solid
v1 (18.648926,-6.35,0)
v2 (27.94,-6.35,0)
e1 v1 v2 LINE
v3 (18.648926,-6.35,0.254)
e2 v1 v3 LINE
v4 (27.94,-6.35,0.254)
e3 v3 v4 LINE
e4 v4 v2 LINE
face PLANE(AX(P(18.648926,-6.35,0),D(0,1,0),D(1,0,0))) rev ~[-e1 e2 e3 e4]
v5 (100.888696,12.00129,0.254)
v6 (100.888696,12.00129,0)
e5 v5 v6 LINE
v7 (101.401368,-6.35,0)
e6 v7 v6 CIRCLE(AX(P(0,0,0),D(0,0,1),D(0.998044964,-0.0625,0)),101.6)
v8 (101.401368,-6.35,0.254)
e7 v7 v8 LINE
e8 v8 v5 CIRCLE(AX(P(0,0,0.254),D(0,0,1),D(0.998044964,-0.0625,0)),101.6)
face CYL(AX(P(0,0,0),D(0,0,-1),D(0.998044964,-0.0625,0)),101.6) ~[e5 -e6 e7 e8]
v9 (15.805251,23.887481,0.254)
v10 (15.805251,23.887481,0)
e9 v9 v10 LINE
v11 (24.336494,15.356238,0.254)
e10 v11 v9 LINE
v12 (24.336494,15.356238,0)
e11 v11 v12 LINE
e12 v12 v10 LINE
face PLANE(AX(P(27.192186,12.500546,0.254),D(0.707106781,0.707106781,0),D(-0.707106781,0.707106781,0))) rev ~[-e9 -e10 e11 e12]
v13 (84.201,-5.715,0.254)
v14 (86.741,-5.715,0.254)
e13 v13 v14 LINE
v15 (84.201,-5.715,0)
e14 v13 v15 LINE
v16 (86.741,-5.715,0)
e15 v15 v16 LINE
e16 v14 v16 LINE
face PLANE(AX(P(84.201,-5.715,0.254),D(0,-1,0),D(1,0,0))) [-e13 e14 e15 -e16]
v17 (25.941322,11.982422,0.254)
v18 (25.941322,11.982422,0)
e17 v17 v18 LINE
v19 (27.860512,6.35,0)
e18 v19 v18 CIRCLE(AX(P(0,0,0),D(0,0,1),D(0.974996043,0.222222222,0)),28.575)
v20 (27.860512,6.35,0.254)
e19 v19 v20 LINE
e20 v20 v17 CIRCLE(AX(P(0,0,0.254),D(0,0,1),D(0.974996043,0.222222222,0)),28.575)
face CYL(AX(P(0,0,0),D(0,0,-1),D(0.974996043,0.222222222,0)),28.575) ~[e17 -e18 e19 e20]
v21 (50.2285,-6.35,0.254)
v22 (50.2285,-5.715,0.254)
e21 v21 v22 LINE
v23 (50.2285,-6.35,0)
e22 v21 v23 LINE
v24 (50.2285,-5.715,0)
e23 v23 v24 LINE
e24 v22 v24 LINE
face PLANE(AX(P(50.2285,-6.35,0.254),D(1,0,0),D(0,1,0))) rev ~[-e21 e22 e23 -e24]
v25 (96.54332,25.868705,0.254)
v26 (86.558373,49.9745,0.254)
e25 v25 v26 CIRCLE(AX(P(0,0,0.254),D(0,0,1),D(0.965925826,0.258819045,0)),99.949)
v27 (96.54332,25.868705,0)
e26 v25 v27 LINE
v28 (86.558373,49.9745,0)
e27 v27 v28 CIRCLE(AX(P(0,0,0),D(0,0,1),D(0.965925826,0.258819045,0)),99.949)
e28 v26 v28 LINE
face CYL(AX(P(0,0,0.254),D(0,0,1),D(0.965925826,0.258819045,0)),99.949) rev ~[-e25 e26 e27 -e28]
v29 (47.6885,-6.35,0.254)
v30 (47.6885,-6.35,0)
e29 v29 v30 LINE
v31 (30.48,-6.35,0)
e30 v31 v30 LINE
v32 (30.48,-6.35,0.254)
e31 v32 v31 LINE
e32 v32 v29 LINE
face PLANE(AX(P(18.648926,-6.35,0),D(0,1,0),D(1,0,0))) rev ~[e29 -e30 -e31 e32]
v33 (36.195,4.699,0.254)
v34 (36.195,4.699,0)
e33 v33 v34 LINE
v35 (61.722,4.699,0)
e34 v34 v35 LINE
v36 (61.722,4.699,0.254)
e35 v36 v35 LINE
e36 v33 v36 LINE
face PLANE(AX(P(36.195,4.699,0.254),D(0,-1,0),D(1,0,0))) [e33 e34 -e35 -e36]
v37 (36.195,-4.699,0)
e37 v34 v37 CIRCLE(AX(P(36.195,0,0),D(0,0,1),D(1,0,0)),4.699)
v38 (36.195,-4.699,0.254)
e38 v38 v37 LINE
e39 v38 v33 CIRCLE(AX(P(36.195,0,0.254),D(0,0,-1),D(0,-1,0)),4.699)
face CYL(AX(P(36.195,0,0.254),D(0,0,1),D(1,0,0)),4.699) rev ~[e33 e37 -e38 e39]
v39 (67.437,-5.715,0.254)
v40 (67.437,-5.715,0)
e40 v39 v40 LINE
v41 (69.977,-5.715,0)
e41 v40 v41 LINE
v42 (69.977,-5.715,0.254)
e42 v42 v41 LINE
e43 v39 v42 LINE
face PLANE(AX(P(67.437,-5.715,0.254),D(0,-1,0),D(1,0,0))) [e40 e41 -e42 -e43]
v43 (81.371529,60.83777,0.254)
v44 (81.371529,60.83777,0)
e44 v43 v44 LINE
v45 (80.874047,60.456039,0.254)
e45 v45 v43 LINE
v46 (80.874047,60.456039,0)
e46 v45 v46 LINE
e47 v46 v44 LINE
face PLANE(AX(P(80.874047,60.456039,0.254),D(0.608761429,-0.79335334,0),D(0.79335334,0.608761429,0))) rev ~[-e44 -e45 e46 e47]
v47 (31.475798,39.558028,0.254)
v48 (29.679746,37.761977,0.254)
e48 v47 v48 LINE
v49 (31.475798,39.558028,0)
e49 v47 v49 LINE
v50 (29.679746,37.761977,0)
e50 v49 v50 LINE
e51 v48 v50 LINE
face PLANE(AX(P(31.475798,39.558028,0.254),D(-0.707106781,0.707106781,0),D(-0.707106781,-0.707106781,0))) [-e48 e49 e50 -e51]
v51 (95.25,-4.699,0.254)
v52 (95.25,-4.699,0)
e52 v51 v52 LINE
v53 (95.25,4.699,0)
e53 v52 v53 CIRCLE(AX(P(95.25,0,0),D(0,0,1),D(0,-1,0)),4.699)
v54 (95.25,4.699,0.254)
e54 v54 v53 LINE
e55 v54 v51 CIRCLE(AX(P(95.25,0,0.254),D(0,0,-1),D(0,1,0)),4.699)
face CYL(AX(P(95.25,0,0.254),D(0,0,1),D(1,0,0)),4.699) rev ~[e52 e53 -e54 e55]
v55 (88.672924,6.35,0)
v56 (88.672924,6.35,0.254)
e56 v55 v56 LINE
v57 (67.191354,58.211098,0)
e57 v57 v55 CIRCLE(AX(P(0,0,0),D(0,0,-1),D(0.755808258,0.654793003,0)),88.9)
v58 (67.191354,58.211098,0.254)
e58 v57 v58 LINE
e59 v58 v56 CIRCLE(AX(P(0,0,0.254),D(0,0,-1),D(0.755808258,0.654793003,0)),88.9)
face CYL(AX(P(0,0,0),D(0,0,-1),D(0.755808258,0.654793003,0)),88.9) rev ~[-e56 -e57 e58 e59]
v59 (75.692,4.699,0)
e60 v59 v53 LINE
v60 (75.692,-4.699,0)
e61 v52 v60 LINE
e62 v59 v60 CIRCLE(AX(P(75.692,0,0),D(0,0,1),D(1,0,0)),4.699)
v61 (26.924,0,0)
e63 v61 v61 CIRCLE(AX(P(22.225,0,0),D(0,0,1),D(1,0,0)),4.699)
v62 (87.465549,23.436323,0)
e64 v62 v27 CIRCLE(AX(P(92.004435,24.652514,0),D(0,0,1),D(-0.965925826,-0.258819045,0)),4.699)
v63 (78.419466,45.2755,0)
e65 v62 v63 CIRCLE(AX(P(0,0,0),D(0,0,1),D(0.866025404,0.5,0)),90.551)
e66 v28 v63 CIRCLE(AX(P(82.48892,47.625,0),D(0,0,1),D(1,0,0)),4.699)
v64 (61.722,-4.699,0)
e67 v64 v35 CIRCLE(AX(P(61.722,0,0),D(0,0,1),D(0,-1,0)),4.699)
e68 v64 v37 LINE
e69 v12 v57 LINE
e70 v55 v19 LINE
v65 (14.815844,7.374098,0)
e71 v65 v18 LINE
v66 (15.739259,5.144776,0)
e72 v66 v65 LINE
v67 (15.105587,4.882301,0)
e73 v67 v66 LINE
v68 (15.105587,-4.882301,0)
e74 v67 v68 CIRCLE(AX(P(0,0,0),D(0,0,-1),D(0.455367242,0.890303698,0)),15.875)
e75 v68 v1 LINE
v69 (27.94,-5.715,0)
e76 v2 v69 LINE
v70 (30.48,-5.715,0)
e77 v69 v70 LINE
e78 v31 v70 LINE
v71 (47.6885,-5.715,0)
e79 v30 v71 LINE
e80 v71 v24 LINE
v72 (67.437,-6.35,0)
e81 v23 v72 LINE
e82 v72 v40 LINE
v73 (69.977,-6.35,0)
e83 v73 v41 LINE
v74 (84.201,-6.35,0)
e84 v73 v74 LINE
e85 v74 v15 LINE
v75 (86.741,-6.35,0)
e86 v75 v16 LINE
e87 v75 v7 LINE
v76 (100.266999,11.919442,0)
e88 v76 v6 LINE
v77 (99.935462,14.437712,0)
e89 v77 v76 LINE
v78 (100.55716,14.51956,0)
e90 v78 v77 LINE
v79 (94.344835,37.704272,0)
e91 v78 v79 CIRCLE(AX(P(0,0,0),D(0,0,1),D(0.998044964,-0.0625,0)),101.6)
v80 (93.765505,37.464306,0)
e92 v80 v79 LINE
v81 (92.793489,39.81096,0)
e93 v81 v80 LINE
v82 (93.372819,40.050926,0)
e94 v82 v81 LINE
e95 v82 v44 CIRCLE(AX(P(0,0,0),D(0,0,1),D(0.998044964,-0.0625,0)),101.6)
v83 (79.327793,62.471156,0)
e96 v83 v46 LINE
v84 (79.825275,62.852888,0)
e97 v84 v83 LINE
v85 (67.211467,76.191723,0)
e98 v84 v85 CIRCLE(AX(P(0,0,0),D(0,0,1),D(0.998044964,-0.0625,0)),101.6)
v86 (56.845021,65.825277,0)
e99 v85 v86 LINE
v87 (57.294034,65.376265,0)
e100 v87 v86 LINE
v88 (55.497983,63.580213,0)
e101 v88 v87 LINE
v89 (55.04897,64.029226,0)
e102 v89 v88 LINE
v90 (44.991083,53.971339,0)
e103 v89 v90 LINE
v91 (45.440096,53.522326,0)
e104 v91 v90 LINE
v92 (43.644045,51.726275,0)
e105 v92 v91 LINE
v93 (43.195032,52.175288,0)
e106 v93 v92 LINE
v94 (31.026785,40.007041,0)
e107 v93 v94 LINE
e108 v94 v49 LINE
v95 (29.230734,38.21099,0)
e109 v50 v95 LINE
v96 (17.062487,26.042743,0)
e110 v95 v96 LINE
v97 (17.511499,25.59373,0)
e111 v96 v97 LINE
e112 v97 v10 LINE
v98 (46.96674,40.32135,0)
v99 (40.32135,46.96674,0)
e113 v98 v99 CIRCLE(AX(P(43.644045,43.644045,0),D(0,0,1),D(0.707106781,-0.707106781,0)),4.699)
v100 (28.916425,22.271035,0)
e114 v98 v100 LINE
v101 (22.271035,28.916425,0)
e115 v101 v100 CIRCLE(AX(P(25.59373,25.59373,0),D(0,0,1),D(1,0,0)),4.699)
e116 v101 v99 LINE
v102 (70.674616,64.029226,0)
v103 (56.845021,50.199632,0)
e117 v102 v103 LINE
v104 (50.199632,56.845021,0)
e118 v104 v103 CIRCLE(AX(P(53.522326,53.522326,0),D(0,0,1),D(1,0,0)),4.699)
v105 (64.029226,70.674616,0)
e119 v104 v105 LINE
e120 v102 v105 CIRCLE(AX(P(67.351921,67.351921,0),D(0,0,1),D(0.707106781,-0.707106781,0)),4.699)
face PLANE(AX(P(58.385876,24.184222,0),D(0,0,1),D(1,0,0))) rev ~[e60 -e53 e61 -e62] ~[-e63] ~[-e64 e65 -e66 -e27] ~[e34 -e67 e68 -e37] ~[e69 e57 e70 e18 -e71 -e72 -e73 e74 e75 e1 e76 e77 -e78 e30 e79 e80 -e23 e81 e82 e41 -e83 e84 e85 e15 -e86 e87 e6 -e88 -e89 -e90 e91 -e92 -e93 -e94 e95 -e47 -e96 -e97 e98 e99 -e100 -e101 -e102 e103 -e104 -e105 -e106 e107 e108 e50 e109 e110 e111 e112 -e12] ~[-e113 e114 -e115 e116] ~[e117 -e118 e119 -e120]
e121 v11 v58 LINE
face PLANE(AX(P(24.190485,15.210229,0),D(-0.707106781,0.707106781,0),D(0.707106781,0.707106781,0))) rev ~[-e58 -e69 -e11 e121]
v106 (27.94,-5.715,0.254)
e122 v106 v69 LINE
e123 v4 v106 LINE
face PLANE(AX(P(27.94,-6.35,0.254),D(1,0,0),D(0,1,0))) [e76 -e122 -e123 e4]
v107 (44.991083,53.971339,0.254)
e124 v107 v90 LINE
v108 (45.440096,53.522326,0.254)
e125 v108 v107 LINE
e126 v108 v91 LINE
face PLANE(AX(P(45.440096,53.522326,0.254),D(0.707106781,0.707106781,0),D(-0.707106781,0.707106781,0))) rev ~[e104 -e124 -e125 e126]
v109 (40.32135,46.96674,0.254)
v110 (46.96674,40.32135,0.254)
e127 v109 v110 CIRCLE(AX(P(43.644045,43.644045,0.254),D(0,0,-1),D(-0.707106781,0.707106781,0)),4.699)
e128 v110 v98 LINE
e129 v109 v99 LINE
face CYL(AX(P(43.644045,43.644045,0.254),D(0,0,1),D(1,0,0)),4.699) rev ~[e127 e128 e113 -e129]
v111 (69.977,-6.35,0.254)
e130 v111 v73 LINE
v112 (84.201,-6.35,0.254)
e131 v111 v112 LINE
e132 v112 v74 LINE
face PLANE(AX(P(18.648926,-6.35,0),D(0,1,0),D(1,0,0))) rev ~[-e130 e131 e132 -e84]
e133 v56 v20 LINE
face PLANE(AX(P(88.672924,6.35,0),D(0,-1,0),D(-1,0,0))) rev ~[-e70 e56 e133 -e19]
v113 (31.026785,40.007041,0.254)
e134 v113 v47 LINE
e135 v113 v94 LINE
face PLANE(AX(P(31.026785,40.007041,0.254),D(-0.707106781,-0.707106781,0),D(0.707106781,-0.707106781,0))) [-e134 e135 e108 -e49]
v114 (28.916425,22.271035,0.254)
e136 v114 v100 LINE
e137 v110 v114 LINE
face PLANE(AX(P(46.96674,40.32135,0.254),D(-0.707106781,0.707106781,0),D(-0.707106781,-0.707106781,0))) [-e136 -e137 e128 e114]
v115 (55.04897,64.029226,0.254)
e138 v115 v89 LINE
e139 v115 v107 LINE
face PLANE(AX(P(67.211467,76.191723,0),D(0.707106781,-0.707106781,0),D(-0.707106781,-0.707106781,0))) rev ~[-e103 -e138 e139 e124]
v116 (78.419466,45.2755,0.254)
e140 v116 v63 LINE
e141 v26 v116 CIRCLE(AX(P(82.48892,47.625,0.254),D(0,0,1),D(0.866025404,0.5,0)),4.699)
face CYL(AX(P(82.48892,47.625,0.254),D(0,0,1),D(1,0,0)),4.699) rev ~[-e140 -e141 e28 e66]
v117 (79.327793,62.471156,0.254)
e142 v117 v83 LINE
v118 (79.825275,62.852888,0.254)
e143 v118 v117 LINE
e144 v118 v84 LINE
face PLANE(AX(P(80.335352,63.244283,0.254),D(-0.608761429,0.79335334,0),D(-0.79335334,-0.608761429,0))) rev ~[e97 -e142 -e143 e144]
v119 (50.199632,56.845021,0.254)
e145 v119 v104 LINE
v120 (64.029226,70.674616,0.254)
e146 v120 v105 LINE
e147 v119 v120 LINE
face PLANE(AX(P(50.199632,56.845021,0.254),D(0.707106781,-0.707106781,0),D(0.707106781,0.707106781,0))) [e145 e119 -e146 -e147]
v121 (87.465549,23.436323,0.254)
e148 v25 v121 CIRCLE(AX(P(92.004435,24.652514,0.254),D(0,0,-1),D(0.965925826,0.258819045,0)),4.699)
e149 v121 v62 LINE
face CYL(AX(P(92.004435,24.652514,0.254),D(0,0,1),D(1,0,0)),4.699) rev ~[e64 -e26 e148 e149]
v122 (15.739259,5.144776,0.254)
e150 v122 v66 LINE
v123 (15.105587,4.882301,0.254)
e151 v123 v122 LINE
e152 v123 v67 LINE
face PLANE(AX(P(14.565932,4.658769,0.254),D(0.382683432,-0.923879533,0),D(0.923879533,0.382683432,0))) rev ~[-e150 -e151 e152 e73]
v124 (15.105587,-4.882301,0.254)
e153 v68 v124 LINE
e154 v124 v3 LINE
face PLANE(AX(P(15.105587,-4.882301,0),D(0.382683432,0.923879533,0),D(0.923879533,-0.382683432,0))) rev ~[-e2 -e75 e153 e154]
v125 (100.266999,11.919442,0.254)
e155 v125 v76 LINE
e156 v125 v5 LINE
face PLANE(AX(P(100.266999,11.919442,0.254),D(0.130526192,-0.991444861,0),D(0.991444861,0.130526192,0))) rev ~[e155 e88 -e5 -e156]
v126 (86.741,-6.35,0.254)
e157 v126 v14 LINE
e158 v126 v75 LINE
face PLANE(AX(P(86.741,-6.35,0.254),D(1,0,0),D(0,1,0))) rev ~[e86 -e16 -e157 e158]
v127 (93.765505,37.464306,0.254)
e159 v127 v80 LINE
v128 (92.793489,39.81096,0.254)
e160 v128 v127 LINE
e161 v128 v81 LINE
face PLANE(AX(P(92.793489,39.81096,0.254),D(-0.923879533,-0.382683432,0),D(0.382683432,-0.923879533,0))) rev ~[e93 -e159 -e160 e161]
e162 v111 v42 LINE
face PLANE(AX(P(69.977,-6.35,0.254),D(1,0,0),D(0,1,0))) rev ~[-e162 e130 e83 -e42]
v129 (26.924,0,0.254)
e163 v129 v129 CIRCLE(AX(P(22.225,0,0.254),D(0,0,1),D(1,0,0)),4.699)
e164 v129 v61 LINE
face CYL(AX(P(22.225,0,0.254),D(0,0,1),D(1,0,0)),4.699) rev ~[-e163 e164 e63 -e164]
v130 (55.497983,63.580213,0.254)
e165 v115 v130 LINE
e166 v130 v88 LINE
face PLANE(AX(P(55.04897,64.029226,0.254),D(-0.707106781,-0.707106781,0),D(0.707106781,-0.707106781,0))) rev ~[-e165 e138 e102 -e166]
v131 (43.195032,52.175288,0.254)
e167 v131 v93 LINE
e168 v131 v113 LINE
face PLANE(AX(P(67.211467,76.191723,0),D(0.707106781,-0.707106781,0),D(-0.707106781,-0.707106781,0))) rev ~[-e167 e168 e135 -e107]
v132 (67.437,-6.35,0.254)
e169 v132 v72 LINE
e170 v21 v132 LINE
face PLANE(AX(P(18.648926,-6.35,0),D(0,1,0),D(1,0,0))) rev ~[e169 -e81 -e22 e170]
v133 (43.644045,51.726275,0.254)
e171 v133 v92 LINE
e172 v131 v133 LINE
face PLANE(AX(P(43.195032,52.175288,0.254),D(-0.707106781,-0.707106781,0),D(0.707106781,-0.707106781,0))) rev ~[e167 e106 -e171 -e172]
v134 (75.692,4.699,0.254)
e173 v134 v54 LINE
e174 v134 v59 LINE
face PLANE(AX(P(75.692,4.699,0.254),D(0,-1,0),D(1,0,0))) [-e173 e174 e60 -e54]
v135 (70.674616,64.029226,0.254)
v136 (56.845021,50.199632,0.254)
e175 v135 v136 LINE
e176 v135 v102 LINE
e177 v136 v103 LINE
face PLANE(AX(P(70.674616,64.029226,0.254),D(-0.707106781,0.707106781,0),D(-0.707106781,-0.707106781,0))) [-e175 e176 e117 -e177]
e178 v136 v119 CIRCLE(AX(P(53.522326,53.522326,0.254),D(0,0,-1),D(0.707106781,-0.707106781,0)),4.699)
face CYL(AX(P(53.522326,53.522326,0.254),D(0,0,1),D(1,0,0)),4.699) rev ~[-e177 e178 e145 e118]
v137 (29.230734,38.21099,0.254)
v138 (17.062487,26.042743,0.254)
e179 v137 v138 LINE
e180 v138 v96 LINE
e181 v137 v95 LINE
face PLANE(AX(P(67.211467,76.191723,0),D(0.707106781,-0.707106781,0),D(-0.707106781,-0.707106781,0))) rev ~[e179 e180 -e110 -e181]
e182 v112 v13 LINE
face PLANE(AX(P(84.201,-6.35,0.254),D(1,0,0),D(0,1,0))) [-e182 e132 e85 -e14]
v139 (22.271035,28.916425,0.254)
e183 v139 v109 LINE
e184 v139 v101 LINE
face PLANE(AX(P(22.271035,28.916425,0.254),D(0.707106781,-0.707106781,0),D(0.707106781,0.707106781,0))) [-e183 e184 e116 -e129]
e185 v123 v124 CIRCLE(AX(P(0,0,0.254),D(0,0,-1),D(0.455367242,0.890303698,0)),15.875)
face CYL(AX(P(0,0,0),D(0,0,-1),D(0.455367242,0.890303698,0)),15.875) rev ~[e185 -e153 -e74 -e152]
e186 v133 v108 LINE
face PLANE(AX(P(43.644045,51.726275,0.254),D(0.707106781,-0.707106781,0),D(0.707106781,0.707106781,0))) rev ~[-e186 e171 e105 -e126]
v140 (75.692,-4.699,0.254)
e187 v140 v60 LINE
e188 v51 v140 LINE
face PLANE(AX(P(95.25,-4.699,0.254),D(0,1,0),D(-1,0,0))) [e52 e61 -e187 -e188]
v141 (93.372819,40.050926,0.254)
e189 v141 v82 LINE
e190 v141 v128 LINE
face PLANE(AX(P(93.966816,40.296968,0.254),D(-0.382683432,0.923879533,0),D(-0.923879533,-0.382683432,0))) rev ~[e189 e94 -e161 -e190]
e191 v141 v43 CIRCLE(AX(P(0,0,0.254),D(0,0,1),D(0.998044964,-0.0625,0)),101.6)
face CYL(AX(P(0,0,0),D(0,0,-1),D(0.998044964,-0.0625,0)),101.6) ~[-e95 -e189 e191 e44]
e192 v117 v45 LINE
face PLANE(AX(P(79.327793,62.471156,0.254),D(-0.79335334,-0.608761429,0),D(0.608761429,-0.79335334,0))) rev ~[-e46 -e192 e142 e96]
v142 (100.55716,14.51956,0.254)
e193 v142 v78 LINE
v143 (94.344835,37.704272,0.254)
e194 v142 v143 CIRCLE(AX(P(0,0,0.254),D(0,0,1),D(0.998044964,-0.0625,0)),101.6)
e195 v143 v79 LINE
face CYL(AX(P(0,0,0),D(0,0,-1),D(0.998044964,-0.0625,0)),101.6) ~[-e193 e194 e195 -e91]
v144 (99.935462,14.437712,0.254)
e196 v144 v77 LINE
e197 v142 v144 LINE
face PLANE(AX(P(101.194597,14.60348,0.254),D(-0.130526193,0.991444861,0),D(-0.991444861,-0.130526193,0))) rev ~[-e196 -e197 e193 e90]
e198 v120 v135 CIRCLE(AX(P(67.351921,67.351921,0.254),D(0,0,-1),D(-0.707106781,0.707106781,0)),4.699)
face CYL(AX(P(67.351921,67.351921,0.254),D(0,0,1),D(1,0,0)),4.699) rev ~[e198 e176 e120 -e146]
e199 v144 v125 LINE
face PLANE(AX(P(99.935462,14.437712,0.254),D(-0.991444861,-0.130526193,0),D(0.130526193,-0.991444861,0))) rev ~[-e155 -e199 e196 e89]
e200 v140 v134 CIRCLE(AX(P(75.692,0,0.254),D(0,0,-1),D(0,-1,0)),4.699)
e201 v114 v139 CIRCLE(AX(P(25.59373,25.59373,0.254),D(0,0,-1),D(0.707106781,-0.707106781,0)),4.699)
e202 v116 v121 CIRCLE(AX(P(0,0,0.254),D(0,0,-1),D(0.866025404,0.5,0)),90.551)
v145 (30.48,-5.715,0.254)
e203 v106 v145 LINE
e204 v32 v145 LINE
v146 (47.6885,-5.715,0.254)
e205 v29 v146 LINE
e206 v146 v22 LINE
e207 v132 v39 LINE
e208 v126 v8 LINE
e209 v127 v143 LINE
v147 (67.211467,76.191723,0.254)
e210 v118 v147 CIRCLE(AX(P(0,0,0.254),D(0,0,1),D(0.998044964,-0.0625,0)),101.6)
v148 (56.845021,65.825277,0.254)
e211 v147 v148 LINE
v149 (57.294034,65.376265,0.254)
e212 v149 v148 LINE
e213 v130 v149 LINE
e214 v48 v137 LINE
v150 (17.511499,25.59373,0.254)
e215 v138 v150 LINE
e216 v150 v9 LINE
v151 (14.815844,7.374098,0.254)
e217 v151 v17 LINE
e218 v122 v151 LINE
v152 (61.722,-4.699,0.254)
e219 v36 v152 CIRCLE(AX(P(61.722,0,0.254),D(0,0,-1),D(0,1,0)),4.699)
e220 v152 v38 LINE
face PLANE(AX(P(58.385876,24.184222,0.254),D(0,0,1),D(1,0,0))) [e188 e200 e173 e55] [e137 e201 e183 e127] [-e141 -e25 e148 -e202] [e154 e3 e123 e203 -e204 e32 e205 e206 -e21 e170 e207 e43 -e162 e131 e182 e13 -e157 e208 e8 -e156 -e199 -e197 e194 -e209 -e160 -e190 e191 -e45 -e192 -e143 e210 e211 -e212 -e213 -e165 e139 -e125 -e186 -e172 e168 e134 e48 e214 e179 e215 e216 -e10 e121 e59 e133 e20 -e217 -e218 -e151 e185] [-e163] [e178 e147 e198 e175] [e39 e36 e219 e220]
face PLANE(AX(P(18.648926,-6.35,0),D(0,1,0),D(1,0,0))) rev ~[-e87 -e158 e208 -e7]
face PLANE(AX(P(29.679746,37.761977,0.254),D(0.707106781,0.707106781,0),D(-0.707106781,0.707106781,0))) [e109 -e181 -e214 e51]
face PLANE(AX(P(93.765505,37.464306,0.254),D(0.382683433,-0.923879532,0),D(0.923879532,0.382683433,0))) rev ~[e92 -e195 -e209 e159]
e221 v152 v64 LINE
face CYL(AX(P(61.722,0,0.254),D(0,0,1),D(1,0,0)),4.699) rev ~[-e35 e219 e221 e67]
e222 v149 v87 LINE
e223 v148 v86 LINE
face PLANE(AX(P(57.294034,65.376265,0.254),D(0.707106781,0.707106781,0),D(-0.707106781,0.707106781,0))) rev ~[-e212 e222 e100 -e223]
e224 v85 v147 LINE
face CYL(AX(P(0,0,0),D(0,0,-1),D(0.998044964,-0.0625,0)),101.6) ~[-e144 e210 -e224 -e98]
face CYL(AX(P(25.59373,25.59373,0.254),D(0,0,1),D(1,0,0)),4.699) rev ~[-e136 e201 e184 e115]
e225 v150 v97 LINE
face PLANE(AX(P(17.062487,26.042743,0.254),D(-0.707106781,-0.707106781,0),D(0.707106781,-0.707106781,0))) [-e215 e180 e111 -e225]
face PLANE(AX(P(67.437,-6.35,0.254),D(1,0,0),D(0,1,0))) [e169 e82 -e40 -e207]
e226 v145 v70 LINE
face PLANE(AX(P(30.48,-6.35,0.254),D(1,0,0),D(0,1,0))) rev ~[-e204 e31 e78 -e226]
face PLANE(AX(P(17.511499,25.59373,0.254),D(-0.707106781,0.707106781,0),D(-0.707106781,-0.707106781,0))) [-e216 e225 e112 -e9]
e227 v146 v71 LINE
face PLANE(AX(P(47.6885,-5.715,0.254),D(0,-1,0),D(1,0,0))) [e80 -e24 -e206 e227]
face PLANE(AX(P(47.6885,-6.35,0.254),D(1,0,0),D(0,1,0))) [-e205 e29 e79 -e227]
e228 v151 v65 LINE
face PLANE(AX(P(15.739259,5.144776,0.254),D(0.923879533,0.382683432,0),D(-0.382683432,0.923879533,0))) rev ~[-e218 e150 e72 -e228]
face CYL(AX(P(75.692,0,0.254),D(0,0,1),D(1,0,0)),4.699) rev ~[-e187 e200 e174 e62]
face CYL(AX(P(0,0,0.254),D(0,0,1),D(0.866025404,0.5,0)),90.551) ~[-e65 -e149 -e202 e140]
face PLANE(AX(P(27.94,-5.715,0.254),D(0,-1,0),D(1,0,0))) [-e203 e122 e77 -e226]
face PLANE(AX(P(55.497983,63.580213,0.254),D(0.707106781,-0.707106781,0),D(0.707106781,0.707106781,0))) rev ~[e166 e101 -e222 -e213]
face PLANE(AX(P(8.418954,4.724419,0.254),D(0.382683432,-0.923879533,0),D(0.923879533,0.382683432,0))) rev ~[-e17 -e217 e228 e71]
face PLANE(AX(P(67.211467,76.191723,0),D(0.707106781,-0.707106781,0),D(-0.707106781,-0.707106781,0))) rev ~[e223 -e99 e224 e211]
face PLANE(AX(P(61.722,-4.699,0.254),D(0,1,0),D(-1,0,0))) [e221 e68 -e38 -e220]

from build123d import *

# Parameters (mm, degrees)
BOSS_EXTRUDE1_DEPTH = 0.254
SKETCH2_R           = 4.699
CUT_EXTRUDE1_DEPTH  = 1.254
SKETCH3_W           = 2.54
SKETCH3_H           = 0.635
CUT_EXTRUDE2_DEPTH  = 1.254
CUT_EXTRUDE4_DEPTH  = 1.254
CUT_EXTRUDE5_DEPTH  = 1.254


with BuildPart() as part:
    # Sketch1 → Boss-Extrude1 (new body)
    with BuildSketch(Plane.XY):
        with BuildLine():
            Line((67.21146711, 76.191723231), (8.696654013, 17.676910134))
            Line((8.696654013, 17.676910134), (7.228954972, 14.133571205))
            ThreePointArc((7.228954972, 14.133571205), (14.666587579, 6.075099489), (15.105587123, -4.88230096))
            Line((15.105587123, -4.88230096), (18.648926052, -6.35))
            Line((18.648926052, -6.35), (101.401368334, -6.35))
            ThreePointArc((101.401368334, -6.35), (93.866160503, 38.880636728), (67.21146711, 76.191723231))
        make_face()
        with BuildLine():
            Line((88.672924278, 6.35), (27.86051193, 6.35))
            ThreePointArc((27.86051193, 6.35), (26.399857642, 10.93517908), (24.190484974, 15.210228852))
            Line((24.190484974, 15.210228852), (67.191354125, 58.211098004))
            ThreePointArc((67.191354125, 58.211098004), (82.13289044, 34.020557137), (88.672924278, 6.35))
        make_face(mode=Mode.SUBTRACT)
    extrude(amount=BOSS_EXTRUDE1_DEPTH)

    # Sketch2 → Cut-Extrude1 (cut, through all)
    with BuildSketch(Plane.XY.offset(0.254)):
        with Locations((22.225, 0)):
            Circle(SKETCH2_R)
        with Locations((36.195, 0)):
            Circle(SKETCH2_R)
        with Locations((61.722, 0)):
            Circle(SKETCH2_R)
        with Locations((75.692, 0)):
            Circle(SKETCH2_R)
        with Locations((95.25, 0)):
            Circle(SKETCH2_R)
        with Locations((15.715448212, 15.715448212)):
            Circle(SKETCH2_R)
        with Locations((25.593729945, 25.593729945)):
            Circle(SKETCH2_R)
        with Locations((43.644044748, 43.644044748)):
            Circle(SKETCH2_R)
        with Locations((53.522326482, 53.522326482)):
            Circle(SKETCH2_R)
        with Locations((92.004434954, 24.652514046)):
            Circle(SKETCH2_R)
        with Locations((82.48891971, 47.625)):
            Circle(SKETCH2_R)
        with Locations((67.351920908, 67.351920908)):
            Circle(SKETCH2_R)
    extrude(amount=-CUT_EXTRUDE1_DEPTH, mode=Mode.SUBTRACT)

    # Sketch3 → Cut-Extrude2 (cut, through all)
    with BuildSketch(Plane.XY.offset(0.254)):
        Polygon((15.266435406, 24.246691527), (17.06248663, 26.042742751), (17.511499436, 25.593729945), (15.715448212, 23.797678721), align=None)
        Polygon((44.991083167, 53.971339288), (43.195031942, 52.175288063), (43.644044748, 51.726275257), (45.440095973, 53.522326482), align=None)
        with Locations((29.21, -6.0325)):
            Rectangle(SKETCH3_W, SKETCH3_H)
        with Locations((68.707, -6.0325)):
            Rectangle(SKETCH3_W, SKETCH3_H)
        Polygon((29.230733674, 38.210989795), (31.026784898, 40.007041019), (31.475797704, 39.558028213), (29.67974648, 37.761976989), align=None)
        Polygon((56.845021246, 65.825277367), (55.048970022, 64.029226143), (55.497982828, 63.580213337), (57.294034052, 65.376264561), align=None)
        with Locations((48.9585, -6.0325)):
            Rectangle(SKETCH3_W, SKETCH3_H)
        with Locations((85.471, -6.0325)):
            Rectangle(SKETCH3_W, SKETCH3_H)
        Polygon((99.935462164, 14.437711971), (100.266998693, 11.919442024), (101.526133667, 12.085210288), (101.194597138, 14.603480236), align=None)
        Polygon((93.765504959, 37.464305742), (94.938831965, 37.950313702), (93.966816047, 40.296967714), (92.793489041, 39.810959755), align=None)
        Polygon((79.327792988, 62.471156422), (80.874047017, 60.456038938), (81.88160576, 61.229165953), (80.33535173, 63.244283437), align=None)
        Polygon((13.593916116, 7.005422516), (14.565932035, 4.658768503), (15.739259041, 5.144776462), (14.767243123, 7.491430475), align=None)
    extrude(amount=-CUT_EXTRUDE2_DEPTH, mode=Mode.SUBTRACT)

    # Sketch6 → Cut-Extrude4 (cut, through all)
    with BuildSketch(Plane.XY.offset(0.254)):
        with BuildLine():
            Line((22.27103518, 28.91642471), (40.321349984, 46.966739513))
            ThreePointArc((40.321349984, 46.966739513), (46.966739513, 46.966739513), (46.966739513, 40.321349984))
            Line((46.966739513, 40.321349984), (28.91642471, 22.27103518))
            ThreePointArc((28.91642471, 22.27103518), (22.27103518, 22.27103518), (22.27103518, 28.91642471))
        make_face()
        with BuildLine():
            Line((50.199631717, 56.845021246), (64.029226143, 70.674615673))
            ThreePointArc((64.029226143, 70.674615673), (70.674615673, 70.674615673), (70.674615673, 64.029226143))
            Line((70.674615673, 64.029226143), (56.845021246, 50.199631717))
            ThreePointArc((56.845021246, 50.199631717), (50.199631717, 50.199631717), (50.199631717, 56.845021246))
        make_face()
        with BuildLine():
            Line((61.722, -4.699), (36.195, -4.699))
            ThreePointArc((36.195, -4.699), (31.496, 0), (36.195, 4.699))
            Line((36.195, 4.699), (61.722, 4.699))
            ThreePointArc((61.722, 4.699), (66.421, 0), (61.722, -4.699))
        make_face()
        with BuildLine():
            Line((95.25, -4.699), (75.692, -4.699))
            ThreePointArc((75.692, -4.699), (70.993, 0), (75.692, 4.699))
            Line((75.692, 4.699), (95.25, 4.699))
            ThreePointArc((95.25, 4.699), (99.949, 0), (95.25, -4.699))
        make_face()
        with BuildLine():
            ThreePointArc((96.543320412, 25.868704739), (92.340835395, 38.248826381), (86.558373083, 49.9745))
            ThreePointArc((86.558373083, 49.9745), (80.13941971, 51.694453372), (78.419466338, 45.2755))
            ThreePointArc((78.419466338, 45.2755), (83.658215548, 34.652367484), (87.465549496, 23.436323353))
            ThreePointArc((87.465549496, 23.436323353), (93.220625647, 20.113628588), (96.543320412, 25.868704739))
        make_face()
    extrude(amount=-CUT_EXTRUDE4_DEPTH, mode=Mode.SUBTRACT)

    # Sketch5 → Cut-Extrude5 (cut, through all)
    with BuildSketch(Plane.XY.offset(0.254)):
        Polygon((8.418953573, 4.724419036), (27.192185674, 12.500546382), (12.82377588, 26.868956175), (-0.450903843, 13.594276452), align=None)
    extrude(amount=-CUT_EXTRUDE5_DEPTH, mode=Mode.SUBTRACT)


solid = part.part
